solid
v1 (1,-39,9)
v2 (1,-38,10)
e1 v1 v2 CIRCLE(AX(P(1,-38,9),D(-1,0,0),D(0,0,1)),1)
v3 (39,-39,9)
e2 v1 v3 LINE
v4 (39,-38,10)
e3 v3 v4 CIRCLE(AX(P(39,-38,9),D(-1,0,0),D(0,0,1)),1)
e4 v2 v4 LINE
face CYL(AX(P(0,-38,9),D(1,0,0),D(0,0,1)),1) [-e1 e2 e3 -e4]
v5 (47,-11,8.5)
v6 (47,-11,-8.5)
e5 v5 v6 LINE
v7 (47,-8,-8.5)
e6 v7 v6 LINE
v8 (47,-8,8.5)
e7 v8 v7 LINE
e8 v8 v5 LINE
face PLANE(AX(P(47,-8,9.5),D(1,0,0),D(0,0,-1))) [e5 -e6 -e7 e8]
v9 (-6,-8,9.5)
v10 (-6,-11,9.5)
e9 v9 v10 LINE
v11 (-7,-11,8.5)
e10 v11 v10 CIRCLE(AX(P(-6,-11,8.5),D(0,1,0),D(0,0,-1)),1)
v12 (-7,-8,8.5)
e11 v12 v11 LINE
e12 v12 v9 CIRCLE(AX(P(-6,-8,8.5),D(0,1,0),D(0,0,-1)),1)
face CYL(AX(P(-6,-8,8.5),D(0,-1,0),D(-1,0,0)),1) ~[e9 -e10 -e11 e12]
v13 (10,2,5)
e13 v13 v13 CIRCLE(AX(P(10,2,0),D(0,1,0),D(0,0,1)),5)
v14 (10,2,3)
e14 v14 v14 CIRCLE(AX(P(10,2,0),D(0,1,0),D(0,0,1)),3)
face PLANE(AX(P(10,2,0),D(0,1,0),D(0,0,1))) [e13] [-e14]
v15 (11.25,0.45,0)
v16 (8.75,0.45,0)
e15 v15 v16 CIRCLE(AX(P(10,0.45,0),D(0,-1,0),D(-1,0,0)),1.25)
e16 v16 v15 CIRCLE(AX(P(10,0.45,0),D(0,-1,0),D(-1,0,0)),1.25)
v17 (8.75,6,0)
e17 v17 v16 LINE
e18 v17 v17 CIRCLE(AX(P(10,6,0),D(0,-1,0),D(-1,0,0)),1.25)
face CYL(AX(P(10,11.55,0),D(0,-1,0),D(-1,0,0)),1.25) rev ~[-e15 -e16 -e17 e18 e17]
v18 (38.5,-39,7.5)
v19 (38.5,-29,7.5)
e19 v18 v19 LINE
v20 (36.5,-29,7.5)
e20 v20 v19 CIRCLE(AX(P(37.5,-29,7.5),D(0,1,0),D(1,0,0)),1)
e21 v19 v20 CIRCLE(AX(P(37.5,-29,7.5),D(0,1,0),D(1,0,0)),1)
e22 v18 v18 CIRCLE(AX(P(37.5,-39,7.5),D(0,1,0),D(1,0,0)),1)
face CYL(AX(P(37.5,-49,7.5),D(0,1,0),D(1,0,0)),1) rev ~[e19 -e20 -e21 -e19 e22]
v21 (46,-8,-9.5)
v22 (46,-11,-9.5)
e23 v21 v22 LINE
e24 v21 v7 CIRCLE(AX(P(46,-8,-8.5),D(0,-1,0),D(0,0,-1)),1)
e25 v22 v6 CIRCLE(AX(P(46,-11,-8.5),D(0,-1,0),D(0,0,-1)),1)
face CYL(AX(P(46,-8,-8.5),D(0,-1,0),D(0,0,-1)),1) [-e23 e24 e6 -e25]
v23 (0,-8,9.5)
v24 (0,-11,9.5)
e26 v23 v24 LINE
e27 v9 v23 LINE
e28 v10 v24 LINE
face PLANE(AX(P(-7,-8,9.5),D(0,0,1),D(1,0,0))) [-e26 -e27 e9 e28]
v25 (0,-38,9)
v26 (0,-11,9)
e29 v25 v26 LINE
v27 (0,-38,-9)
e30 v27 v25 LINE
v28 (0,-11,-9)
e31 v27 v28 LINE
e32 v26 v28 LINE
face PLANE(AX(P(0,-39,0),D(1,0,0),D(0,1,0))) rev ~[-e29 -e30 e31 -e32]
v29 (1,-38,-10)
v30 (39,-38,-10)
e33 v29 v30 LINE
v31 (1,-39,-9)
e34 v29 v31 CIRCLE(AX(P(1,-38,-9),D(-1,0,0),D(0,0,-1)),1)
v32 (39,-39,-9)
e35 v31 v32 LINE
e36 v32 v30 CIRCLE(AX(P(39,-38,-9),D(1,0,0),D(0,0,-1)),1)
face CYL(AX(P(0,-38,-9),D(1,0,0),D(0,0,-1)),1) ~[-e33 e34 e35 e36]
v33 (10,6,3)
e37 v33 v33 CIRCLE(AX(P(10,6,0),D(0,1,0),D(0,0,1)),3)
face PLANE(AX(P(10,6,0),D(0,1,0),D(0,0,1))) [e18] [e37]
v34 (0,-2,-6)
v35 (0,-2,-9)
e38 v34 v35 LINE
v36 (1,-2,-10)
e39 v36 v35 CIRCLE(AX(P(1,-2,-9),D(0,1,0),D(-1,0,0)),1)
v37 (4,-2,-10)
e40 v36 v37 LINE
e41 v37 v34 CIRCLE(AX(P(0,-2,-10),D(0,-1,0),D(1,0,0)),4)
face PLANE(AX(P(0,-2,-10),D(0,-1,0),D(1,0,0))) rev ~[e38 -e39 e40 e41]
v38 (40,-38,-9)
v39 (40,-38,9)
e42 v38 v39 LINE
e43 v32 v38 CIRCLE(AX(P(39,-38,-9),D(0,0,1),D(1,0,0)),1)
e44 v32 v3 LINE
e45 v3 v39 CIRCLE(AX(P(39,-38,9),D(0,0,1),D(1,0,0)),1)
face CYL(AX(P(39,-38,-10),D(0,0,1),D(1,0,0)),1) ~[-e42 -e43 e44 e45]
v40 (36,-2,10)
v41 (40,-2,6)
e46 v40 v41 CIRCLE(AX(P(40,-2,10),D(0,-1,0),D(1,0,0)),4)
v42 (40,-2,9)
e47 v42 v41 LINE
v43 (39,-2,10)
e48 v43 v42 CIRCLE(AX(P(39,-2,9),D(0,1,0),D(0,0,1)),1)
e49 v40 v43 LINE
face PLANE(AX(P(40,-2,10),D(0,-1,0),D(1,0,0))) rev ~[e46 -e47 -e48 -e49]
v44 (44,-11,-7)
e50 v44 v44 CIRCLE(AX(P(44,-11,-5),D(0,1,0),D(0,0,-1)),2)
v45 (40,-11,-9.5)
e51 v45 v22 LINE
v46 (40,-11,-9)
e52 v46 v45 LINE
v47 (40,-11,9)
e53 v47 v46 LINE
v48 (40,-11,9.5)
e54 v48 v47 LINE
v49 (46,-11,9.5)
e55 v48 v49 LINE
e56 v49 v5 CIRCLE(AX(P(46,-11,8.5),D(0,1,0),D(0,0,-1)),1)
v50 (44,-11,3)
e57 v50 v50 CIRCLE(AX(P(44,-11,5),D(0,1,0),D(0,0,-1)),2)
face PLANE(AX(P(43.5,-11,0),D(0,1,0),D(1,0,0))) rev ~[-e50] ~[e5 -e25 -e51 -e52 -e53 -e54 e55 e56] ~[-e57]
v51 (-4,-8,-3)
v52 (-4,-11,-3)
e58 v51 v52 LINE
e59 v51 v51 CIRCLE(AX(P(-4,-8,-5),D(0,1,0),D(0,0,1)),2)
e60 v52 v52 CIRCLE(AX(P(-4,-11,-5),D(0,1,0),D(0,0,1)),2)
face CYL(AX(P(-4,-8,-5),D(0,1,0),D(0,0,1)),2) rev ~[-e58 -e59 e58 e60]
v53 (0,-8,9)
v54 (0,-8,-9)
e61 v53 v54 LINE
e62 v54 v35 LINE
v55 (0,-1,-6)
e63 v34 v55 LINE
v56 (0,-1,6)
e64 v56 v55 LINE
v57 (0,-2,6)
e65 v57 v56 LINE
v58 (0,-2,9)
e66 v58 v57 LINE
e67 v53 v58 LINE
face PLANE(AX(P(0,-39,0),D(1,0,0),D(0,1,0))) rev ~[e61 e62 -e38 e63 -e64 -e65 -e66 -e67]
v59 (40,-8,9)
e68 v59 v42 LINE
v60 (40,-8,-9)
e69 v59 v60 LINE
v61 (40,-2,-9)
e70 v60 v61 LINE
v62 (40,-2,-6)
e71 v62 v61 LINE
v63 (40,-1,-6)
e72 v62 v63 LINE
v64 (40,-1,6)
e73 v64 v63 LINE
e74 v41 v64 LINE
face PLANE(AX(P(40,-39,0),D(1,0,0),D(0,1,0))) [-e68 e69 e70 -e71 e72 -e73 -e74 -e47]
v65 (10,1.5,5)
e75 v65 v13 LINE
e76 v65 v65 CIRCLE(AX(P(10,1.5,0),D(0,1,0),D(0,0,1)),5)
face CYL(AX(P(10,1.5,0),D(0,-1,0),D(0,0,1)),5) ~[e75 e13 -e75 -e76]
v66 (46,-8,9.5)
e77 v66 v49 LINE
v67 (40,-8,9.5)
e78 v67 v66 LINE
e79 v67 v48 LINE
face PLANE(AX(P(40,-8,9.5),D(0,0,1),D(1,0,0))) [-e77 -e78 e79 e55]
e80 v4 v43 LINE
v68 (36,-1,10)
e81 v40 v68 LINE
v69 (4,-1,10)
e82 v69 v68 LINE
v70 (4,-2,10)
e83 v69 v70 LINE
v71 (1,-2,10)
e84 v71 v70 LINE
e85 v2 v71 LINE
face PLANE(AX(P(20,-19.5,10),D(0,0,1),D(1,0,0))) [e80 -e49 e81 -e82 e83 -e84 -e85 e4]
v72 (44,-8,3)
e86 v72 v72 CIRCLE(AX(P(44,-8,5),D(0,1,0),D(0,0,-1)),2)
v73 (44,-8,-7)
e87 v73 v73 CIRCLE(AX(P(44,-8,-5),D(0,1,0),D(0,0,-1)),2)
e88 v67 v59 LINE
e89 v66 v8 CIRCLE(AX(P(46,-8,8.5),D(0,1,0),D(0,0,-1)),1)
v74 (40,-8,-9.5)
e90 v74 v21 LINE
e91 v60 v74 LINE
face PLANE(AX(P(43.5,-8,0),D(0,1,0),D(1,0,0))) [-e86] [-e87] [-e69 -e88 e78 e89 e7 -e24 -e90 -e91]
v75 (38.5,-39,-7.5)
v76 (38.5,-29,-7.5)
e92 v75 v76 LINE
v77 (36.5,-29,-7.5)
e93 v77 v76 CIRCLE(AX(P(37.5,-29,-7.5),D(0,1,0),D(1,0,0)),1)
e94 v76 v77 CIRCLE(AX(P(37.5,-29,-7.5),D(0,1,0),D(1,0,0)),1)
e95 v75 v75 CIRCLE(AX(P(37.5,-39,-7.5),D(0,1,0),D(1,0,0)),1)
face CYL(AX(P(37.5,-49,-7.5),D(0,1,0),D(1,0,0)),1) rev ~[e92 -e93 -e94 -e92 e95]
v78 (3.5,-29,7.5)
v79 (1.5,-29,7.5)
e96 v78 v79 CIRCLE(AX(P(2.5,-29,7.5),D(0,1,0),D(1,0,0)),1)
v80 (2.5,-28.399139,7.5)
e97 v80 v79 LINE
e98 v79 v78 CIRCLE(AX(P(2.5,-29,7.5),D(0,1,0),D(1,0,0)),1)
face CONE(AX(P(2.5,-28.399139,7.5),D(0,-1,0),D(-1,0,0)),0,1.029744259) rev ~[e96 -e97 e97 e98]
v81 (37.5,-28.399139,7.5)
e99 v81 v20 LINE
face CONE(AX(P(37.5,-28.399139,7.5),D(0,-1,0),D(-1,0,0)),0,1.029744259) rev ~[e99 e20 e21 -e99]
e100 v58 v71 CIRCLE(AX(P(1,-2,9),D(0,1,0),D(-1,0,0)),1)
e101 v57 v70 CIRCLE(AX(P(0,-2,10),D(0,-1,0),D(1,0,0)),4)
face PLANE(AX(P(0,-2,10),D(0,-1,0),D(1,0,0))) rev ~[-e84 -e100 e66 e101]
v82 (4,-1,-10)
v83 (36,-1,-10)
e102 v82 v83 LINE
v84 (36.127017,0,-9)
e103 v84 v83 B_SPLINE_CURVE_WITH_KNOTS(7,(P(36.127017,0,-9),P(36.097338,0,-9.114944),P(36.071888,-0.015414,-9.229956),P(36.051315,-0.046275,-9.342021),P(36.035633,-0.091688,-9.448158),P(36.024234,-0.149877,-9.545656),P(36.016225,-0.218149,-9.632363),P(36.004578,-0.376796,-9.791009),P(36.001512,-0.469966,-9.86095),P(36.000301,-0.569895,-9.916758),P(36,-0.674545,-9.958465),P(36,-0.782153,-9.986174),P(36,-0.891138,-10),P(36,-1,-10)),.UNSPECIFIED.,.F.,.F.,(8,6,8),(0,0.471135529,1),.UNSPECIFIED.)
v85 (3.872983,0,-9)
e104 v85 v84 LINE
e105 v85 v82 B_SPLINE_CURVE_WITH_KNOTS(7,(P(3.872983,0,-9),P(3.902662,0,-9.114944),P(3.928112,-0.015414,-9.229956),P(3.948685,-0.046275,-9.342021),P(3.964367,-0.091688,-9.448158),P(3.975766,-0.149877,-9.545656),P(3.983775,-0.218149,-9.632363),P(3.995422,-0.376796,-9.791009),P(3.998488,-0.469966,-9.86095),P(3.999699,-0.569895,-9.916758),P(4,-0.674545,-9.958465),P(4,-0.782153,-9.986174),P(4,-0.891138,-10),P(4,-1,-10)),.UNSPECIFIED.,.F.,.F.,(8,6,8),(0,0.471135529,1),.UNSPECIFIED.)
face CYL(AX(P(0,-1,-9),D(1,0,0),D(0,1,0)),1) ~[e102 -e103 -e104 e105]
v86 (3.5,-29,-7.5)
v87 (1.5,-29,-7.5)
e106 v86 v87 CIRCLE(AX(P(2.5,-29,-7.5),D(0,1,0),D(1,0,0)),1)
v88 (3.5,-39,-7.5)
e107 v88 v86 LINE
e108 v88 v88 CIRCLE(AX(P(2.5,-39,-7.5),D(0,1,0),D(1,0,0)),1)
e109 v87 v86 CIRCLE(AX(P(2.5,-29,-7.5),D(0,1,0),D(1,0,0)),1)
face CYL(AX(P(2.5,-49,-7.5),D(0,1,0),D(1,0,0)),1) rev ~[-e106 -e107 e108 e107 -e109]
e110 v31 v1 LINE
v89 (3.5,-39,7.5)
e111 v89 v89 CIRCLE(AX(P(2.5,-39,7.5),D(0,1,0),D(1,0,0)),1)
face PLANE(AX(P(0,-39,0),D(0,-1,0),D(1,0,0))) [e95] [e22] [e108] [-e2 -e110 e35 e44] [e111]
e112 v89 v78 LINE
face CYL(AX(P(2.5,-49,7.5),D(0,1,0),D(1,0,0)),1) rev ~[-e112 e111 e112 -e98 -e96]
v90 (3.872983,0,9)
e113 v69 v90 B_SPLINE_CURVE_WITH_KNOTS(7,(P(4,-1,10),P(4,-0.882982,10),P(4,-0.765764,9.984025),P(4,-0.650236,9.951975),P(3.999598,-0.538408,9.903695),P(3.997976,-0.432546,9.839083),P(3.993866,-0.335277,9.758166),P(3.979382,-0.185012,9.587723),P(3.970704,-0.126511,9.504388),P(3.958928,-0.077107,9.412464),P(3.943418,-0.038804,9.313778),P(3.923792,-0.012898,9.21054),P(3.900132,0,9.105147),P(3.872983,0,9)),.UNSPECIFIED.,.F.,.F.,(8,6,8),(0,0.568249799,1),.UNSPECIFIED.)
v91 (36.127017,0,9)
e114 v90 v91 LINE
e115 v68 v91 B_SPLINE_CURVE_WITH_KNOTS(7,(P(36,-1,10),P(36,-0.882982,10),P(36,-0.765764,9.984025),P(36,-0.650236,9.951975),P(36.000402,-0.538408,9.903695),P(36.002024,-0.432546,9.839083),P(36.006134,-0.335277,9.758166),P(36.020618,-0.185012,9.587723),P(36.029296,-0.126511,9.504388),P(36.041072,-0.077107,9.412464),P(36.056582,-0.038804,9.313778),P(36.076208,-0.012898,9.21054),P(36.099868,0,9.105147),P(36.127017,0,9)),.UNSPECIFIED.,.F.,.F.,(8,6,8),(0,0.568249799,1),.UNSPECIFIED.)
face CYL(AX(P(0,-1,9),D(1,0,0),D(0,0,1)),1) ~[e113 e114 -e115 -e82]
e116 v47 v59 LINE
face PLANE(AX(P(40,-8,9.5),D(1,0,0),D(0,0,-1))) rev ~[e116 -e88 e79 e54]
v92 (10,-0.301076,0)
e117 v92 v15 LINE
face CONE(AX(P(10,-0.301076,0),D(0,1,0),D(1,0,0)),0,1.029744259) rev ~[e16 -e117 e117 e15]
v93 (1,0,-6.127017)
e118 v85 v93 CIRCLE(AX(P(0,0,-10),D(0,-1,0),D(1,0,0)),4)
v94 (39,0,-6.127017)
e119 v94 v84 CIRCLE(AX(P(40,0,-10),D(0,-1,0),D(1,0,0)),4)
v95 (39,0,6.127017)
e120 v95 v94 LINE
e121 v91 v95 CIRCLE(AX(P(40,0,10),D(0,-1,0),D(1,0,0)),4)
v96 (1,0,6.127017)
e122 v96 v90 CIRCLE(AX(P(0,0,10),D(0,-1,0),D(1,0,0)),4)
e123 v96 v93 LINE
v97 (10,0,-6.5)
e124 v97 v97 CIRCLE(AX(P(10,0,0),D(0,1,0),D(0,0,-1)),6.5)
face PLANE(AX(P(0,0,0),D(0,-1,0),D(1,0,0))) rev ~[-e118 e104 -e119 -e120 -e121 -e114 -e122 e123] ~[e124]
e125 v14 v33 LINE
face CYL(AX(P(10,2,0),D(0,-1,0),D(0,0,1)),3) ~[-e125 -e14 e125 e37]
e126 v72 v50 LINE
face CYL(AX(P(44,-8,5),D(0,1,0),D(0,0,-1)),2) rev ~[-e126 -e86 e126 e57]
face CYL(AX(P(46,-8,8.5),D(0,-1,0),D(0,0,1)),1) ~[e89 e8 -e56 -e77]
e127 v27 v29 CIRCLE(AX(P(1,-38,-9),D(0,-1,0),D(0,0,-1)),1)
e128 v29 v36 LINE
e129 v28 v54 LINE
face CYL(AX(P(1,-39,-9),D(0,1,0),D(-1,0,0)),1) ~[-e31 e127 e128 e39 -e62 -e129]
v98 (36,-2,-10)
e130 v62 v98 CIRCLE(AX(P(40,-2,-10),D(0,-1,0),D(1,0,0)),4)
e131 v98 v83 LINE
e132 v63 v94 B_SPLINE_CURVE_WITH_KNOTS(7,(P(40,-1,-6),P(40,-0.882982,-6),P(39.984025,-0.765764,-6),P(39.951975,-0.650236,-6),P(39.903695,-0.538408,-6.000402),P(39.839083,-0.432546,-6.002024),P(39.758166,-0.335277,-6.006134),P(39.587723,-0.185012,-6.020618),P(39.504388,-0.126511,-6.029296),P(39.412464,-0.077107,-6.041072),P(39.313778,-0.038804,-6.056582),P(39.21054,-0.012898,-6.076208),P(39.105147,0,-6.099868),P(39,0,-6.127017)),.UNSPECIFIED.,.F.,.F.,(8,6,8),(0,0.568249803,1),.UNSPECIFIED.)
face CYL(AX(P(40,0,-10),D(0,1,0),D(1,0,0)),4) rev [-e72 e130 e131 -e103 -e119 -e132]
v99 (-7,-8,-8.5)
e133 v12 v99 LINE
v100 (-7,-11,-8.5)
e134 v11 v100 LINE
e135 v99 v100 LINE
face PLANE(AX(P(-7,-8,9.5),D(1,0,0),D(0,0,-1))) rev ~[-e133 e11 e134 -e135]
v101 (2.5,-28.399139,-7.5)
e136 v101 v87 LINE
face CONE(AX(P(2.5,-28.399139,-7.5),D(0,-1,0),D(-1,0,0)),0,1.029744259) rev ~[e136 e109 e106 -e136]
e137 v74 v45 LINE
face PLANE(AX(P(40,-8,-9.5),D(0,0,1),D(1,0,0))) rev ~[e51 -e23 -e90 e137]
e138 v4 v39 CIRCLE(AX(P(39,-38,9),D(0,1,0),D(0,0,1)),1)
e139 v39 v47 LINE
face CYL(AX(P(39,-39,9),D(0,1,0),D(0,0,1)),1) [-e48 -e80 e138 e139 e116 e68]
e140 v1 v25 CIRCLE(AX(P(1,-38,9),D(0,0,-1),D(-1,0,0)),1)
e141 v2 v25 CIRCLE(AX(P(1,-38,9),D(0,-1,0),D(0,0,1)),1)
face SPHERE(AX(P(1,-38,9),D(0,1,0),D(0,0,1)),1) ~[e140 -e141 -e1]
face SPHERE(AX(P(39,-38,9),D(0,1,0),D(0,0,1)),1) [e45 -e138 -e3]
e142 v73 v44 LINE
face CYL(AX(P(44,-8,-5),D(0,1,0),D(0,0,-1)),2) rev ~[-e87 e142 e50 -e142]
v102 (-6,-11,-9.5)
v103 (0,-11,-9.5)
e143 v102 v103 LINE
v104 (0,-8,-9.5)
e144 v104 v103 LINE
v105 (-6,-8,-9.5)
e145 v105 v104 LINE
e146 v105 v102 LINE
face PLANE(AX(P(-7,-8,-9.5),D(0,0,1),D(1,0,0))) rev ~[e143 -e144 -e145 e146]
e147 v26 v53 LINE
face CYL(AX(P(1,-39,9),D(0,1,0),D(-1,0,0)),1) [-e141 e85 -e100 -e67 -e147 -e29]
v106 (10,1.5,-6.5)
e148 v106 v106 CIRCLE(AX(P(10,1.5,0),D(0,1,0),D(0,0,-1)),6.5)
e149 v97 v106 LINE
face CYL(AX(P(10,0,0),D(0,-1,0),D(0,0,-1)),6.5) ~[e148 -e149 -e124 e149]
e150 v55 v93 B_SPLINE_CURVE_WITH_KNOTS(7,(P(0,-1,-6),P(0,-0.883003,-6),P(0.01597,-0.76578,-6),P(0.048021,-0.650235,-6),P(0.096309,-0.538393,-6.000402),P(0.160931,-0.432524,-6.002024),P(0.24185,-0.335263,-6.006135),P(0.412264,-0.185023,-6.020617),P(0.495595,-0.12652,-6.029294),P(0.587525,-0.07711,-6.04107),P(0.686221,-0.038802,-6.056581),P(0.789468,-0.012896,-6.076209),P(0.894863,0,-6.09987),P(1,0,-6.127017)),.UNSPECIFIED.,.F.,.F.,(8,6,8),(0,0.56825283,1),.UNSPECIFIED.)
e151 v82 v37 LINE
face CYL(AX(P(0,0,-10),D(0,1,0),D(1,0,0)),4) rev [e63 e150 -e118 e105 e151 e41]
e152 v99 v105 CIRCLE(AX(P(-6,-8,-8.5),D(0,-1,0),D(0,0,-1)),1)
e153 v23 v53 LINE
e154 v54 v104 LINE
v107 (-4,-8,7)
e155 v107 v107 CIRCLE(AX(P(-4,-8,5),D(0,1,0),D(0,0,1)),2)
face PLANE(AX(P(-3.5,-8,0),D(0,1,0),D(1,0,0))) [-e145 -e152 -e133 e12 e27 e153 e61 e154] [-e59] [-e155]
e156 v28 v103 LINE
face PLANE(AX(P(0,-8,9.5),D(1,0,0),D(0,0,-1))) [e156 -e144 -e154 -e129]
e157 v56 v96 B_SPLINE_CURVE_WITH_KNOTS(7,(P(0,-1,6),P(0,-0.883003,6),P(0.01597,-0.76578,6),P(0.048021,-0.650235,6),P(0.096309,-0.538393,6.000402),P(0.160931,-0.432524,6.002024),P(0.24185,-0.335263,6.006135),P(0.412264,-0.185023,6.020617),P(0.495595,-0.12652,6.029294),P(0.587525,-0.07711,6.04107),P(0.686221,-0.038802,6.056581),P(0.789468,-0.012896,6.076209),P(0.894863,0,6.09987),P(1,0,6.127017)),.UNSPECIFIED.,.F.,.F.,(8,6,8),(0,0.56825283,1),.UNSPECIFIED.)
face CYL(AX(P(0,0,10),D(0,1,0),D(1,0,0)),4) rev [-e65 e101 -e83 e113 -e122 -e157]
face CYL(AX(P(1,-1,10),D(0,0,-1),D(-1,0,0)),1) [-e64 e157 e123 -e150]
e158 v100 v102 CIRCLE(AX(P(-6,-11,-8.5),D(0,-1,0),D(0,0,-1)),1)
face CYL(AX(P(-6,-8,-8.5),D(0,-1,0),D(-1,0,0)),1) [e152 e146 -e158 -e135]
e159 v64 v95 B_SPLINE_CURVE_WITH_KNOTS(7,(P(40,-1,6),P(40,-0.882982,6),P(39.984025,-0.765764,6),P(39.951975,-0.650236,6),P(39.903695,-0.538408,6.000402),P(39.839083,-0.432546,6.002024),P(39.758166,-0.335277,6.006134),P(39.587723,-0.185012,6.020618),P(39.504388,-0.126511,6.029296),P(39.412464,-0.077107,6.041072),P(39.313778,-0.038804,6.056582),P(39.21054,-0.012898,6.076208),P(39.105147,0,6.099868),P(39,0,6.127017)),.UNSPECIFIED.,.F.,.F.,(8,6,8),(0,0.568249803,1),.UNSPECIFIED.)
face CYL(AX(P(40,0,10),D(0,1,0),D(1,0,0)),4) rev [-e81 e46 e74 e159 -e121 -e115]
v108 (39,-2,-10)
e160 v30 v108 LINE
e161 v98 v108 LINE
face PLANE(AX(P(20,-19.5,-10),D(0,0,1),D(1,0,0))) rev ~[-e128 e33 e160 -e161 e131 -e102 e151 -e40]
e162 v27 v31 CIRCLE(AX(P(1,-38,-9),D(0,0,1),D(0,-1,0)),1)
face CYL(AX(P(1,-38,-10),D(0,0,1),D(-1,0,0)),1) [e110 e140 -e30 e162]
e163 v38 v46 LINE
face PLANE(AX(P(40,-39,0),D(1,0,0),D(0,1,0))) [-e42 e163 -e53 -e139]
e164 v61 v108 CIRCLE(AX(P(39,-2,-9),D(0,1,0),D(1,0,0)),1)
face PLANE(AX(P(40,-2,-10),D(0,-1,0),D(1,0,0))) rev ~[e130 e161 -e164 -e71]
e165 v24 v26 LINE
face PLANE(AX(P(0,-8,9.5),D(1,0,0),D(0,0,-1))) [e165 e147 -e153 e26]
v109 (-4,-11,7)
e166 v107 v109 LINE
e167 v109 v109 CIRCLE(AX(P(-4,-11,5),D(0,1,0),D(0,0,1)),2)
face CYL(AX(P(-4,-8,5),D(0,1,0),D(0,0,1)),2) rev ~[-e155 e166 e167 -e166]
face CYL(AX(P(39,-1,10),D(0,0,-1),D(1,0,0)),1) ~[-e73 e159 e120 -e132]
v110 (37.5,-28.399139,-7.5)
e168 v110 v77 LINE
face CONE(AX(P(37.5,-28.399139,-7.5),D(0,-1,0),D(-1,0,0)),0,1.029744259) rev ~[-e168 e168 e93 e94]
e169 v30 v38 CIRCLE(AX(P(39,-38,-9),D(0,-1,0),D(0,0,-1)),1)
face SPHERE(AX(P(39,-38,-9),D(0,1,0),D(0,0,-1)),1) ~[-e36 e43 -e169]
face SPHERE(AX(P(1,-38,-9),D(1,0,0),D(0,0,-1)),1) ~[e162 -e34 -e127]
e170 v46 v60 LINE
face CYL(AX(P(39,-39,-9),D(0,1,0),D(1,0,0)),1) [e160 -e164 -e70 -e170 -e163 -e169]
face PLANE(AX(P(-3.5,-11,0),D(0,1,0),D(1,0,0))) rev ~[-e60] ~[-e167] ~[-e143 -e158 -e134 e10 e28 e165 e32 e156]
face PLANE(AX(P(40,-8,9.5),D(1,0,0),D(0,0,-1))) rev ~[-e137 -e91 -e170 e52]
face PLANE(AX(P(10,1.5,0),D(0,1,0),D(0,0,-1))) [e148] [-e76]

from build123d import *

# Parameters (mm, degrees)
SKETCH_2_W                = 40
SKETCH_2_H                = 39
EXTRUDE_1_DEPTH           = 10
FILLET_1_R                = 1
SKETCH_6_R                = 4
CUT_EXTRUDE_1_DEPTH       = 2
HOLE_WIZARD_2_0_2_2_D     = 2
HOLE_WIZARD_2_0_2_2_DEPTH = 10
HOLE_WIZARD_2_0_2_2_TIP   = 0.600860619
EXTRUDE_START             = -8
SKETCH_16_W               = 7
SKETCH_16_H               = 19
SKETCH_16_R               = 2
EXTRUDE_2_DEPTH           = 3
SKETCH_17_R               = 6.5
EXTRUDE_3_DEPTH           = 1.5
SKETCH_18_R               = 5
EXTRUDE_4_DEPTH           = 0.5
SKETCH_19_R               = 3
EXTRUDE_5_DEPTH           = 4
FILLET_2_R                = 1
HOLE_WIZARD_M3_1_D        = 2.5
HOLE_WIZARD_M3_1_DEPTH    = 5.55
HOLE_WIZARD_M3_1_TIP      = 0.751075774


with BuildPart() as part:
    # 草图2 → 凸台-拉伸1 (new, symmetric)
    with BuildSketch(Plane.XY):
        with Locations((20, -19.5)):
            Rectangle(SKETCH_2_W, SKETCH_2_H)
    extrude(amount=EXTRUDE_1_DEPTH, both=True)

    # 圆角1
    fillet_1_edges = [part.edges().sort_by_distance(p)[0] for p in [
        (40, -19.5, 10),
        (20, 0, 10),
        (0, -19.5, 10),
        (20, 0, -10),
        (40, -19.5, -10),
        (20, -39, -10),
        (0, -19.5, -10),
        (20, -39, 10),
        (0, 0, 0),
        (40, 0, 0),
        (40, -39, 0),
        (0, -39, 0),
    ]]
    fillet(fillet_1_edges, radius=FILLET_1_R)

    # 草图6 → 切除-拉伸1 (cut)
    with BuildSketch(Plane.XZ):
        with Locations((0, 10)):
            Circle(SKETCH_6_R)
        with Locations((40, 10)):
            Circle(SKETCH_6_R)
        with Locations((40, -10)):
            Circle(SKETCH_6_R)
        with Locations((0, -10)):
            Circle(SKETCH_6_R)
    extrude(amount=CUT_EXTRUDE_1_DEPTH, mode=Mode.SUBTRACT)

    # Ø2.0 (2) 直径孔2
    with Locations(Plane(origin=(0, -39, 0), x_dir=(-1, 0, 0), z_dir=(0, -1, 0))):
        with Locations((-37.5, 7.5), (-37.5, -7.5), (-2.5, 7.5), (-2.5, -7.5)):
            Hole(HOLE_WIZARD_2_0_2_2_D / 2, depth=HOLE_WIZARD_2_0_2_2_DEPTH)
            with Locations((0, 0, -(HOLE_WIZARD_2_0_2_2_DEPTH + HOLE_WIZARD_2_0_2_2_TIP / 2))):  # 118° drill point
                Cone(0, HOLE_WIZARD_2_0_2_2_D / 2, HOLE_WIZARD_2_0_2_2_TIP, mode=Mode.SUBTRACT)

    # 草图16 → 凸台-拉伸2 (add)
    # profile 1 of 2: a face of its own
    with BuildSketch(Plane(origin=(0, 0, 0), x_dir=(1, 0, 0), z_dir=(0, 1, 0)).offset(EXTRUDE_START)):
        with Locations((-3.5, 0)):
            Rectangle(SKETCH_16_W, SKETCH_16_H)
        with Locations(Location((-4, -5, 0), (0, 0, 270))):
            Circle(SKETCH_16_R, mode=Mode.SUBTRACT)
        with Locations(Location((-4, 5, 0), (0, 0, 270))):
            Circle(SKETCH_16_R, mode=Mode.SUBTRACT)
    # profile 2 of 2: a face of its own
    with BuildSketch(Plane(origin=(0, 0, 0), x_dir=(1, 0, 0), z_dir=(0, 1, 0)).offset(EXTRUDE_START)):
        with Locations((43.5, 0)):
            Rectangle(SKETCH_16_W, SKETCH_16_H)
        with Locations(Location((44, 5, 0), (0, 0, 90))):
            Circle(SKETCH_16_R, mode=Mode.SUBTRACT)
        with Locations(Location((44, -5, 0), (0, 0, 90))):
            Circle(SKETCH_16_R, mode=Mode.SUBTRACT)
    extrude(amount=-EXTRUDE_2_DEPTH)

    # 草图17 → 凸台-拉伸3 (add)
    with BuildSketch(Plane(origin=(0, 0, 0), x_dir=(1, 0, 0), z_dir=(0, 1, 0))):
        with Locations(Location((10, 0, 0), (0, 0, 90))):
            Circle(SKETCH_17_R)
    extrude(amount=EXTRUDE_3_DEPTH)

    # 草图18 → 凸台-拉伸4 (add)
    with BuildSketch(Plane(origin=(0, 1.5, 0), x_dir=(1, 0, 0), z_dir=(0, 1, 0))):
        with Locations(Location((10, 0, 0), (0, 0, 270))):
            Circle(SKETCH_18_R)
    extrude(amount=EXTRUDE_4_DEPTH)

    # 草图19 → 凸台-拉伸5 (add)
    with BuildSketch(Plane(origin=(0, 2, 0), x_dir=(1, 0, 0), z_dir=(0, 1, 0))):
        with Locations(Location((10, 0, 0), (0, 0, 270))):
            Circle(SKETCH_19_R)
    extrude(amount=EXTRUDE_5_DEPTH)

    # 圆角2
    fillet_2_edges = [part.edges().sort_by_distance(p)[0] for p in [
        (-7, -9.5, 9.5),
        (-7, -9.5, -9.5),
        (47, -9.5, 9.5),
        (47, -9.5, -9.5),
    ]]
    fillet(fillet_2_edges, radius=FILLET_2_R)

    # M3 螺纹孔1
    with Locations(Plane(origin=(0, 6, 0), x_dir=(1, 0, 0), z_dir=(0, 1, 0))):
        with Locations((10, 0)):
            Hole(HOLE_WIZARD_M3_1_D / 2, depth=HOLE_WIZARD_M3_1_DEPTH)
            with Locations((0, 0, -(HOLE_WIZARD_M3_1_DEPTH + HOLE_WIZARD_M3_1_TIP / 2))):  # 118° drill point
                Cone(0, HOLE_WIZARD_M3_1_D / 2, HOLE_WIZARD_M3_1_TIP, mode=Mode.SUBTRACT)


solid = part.part
